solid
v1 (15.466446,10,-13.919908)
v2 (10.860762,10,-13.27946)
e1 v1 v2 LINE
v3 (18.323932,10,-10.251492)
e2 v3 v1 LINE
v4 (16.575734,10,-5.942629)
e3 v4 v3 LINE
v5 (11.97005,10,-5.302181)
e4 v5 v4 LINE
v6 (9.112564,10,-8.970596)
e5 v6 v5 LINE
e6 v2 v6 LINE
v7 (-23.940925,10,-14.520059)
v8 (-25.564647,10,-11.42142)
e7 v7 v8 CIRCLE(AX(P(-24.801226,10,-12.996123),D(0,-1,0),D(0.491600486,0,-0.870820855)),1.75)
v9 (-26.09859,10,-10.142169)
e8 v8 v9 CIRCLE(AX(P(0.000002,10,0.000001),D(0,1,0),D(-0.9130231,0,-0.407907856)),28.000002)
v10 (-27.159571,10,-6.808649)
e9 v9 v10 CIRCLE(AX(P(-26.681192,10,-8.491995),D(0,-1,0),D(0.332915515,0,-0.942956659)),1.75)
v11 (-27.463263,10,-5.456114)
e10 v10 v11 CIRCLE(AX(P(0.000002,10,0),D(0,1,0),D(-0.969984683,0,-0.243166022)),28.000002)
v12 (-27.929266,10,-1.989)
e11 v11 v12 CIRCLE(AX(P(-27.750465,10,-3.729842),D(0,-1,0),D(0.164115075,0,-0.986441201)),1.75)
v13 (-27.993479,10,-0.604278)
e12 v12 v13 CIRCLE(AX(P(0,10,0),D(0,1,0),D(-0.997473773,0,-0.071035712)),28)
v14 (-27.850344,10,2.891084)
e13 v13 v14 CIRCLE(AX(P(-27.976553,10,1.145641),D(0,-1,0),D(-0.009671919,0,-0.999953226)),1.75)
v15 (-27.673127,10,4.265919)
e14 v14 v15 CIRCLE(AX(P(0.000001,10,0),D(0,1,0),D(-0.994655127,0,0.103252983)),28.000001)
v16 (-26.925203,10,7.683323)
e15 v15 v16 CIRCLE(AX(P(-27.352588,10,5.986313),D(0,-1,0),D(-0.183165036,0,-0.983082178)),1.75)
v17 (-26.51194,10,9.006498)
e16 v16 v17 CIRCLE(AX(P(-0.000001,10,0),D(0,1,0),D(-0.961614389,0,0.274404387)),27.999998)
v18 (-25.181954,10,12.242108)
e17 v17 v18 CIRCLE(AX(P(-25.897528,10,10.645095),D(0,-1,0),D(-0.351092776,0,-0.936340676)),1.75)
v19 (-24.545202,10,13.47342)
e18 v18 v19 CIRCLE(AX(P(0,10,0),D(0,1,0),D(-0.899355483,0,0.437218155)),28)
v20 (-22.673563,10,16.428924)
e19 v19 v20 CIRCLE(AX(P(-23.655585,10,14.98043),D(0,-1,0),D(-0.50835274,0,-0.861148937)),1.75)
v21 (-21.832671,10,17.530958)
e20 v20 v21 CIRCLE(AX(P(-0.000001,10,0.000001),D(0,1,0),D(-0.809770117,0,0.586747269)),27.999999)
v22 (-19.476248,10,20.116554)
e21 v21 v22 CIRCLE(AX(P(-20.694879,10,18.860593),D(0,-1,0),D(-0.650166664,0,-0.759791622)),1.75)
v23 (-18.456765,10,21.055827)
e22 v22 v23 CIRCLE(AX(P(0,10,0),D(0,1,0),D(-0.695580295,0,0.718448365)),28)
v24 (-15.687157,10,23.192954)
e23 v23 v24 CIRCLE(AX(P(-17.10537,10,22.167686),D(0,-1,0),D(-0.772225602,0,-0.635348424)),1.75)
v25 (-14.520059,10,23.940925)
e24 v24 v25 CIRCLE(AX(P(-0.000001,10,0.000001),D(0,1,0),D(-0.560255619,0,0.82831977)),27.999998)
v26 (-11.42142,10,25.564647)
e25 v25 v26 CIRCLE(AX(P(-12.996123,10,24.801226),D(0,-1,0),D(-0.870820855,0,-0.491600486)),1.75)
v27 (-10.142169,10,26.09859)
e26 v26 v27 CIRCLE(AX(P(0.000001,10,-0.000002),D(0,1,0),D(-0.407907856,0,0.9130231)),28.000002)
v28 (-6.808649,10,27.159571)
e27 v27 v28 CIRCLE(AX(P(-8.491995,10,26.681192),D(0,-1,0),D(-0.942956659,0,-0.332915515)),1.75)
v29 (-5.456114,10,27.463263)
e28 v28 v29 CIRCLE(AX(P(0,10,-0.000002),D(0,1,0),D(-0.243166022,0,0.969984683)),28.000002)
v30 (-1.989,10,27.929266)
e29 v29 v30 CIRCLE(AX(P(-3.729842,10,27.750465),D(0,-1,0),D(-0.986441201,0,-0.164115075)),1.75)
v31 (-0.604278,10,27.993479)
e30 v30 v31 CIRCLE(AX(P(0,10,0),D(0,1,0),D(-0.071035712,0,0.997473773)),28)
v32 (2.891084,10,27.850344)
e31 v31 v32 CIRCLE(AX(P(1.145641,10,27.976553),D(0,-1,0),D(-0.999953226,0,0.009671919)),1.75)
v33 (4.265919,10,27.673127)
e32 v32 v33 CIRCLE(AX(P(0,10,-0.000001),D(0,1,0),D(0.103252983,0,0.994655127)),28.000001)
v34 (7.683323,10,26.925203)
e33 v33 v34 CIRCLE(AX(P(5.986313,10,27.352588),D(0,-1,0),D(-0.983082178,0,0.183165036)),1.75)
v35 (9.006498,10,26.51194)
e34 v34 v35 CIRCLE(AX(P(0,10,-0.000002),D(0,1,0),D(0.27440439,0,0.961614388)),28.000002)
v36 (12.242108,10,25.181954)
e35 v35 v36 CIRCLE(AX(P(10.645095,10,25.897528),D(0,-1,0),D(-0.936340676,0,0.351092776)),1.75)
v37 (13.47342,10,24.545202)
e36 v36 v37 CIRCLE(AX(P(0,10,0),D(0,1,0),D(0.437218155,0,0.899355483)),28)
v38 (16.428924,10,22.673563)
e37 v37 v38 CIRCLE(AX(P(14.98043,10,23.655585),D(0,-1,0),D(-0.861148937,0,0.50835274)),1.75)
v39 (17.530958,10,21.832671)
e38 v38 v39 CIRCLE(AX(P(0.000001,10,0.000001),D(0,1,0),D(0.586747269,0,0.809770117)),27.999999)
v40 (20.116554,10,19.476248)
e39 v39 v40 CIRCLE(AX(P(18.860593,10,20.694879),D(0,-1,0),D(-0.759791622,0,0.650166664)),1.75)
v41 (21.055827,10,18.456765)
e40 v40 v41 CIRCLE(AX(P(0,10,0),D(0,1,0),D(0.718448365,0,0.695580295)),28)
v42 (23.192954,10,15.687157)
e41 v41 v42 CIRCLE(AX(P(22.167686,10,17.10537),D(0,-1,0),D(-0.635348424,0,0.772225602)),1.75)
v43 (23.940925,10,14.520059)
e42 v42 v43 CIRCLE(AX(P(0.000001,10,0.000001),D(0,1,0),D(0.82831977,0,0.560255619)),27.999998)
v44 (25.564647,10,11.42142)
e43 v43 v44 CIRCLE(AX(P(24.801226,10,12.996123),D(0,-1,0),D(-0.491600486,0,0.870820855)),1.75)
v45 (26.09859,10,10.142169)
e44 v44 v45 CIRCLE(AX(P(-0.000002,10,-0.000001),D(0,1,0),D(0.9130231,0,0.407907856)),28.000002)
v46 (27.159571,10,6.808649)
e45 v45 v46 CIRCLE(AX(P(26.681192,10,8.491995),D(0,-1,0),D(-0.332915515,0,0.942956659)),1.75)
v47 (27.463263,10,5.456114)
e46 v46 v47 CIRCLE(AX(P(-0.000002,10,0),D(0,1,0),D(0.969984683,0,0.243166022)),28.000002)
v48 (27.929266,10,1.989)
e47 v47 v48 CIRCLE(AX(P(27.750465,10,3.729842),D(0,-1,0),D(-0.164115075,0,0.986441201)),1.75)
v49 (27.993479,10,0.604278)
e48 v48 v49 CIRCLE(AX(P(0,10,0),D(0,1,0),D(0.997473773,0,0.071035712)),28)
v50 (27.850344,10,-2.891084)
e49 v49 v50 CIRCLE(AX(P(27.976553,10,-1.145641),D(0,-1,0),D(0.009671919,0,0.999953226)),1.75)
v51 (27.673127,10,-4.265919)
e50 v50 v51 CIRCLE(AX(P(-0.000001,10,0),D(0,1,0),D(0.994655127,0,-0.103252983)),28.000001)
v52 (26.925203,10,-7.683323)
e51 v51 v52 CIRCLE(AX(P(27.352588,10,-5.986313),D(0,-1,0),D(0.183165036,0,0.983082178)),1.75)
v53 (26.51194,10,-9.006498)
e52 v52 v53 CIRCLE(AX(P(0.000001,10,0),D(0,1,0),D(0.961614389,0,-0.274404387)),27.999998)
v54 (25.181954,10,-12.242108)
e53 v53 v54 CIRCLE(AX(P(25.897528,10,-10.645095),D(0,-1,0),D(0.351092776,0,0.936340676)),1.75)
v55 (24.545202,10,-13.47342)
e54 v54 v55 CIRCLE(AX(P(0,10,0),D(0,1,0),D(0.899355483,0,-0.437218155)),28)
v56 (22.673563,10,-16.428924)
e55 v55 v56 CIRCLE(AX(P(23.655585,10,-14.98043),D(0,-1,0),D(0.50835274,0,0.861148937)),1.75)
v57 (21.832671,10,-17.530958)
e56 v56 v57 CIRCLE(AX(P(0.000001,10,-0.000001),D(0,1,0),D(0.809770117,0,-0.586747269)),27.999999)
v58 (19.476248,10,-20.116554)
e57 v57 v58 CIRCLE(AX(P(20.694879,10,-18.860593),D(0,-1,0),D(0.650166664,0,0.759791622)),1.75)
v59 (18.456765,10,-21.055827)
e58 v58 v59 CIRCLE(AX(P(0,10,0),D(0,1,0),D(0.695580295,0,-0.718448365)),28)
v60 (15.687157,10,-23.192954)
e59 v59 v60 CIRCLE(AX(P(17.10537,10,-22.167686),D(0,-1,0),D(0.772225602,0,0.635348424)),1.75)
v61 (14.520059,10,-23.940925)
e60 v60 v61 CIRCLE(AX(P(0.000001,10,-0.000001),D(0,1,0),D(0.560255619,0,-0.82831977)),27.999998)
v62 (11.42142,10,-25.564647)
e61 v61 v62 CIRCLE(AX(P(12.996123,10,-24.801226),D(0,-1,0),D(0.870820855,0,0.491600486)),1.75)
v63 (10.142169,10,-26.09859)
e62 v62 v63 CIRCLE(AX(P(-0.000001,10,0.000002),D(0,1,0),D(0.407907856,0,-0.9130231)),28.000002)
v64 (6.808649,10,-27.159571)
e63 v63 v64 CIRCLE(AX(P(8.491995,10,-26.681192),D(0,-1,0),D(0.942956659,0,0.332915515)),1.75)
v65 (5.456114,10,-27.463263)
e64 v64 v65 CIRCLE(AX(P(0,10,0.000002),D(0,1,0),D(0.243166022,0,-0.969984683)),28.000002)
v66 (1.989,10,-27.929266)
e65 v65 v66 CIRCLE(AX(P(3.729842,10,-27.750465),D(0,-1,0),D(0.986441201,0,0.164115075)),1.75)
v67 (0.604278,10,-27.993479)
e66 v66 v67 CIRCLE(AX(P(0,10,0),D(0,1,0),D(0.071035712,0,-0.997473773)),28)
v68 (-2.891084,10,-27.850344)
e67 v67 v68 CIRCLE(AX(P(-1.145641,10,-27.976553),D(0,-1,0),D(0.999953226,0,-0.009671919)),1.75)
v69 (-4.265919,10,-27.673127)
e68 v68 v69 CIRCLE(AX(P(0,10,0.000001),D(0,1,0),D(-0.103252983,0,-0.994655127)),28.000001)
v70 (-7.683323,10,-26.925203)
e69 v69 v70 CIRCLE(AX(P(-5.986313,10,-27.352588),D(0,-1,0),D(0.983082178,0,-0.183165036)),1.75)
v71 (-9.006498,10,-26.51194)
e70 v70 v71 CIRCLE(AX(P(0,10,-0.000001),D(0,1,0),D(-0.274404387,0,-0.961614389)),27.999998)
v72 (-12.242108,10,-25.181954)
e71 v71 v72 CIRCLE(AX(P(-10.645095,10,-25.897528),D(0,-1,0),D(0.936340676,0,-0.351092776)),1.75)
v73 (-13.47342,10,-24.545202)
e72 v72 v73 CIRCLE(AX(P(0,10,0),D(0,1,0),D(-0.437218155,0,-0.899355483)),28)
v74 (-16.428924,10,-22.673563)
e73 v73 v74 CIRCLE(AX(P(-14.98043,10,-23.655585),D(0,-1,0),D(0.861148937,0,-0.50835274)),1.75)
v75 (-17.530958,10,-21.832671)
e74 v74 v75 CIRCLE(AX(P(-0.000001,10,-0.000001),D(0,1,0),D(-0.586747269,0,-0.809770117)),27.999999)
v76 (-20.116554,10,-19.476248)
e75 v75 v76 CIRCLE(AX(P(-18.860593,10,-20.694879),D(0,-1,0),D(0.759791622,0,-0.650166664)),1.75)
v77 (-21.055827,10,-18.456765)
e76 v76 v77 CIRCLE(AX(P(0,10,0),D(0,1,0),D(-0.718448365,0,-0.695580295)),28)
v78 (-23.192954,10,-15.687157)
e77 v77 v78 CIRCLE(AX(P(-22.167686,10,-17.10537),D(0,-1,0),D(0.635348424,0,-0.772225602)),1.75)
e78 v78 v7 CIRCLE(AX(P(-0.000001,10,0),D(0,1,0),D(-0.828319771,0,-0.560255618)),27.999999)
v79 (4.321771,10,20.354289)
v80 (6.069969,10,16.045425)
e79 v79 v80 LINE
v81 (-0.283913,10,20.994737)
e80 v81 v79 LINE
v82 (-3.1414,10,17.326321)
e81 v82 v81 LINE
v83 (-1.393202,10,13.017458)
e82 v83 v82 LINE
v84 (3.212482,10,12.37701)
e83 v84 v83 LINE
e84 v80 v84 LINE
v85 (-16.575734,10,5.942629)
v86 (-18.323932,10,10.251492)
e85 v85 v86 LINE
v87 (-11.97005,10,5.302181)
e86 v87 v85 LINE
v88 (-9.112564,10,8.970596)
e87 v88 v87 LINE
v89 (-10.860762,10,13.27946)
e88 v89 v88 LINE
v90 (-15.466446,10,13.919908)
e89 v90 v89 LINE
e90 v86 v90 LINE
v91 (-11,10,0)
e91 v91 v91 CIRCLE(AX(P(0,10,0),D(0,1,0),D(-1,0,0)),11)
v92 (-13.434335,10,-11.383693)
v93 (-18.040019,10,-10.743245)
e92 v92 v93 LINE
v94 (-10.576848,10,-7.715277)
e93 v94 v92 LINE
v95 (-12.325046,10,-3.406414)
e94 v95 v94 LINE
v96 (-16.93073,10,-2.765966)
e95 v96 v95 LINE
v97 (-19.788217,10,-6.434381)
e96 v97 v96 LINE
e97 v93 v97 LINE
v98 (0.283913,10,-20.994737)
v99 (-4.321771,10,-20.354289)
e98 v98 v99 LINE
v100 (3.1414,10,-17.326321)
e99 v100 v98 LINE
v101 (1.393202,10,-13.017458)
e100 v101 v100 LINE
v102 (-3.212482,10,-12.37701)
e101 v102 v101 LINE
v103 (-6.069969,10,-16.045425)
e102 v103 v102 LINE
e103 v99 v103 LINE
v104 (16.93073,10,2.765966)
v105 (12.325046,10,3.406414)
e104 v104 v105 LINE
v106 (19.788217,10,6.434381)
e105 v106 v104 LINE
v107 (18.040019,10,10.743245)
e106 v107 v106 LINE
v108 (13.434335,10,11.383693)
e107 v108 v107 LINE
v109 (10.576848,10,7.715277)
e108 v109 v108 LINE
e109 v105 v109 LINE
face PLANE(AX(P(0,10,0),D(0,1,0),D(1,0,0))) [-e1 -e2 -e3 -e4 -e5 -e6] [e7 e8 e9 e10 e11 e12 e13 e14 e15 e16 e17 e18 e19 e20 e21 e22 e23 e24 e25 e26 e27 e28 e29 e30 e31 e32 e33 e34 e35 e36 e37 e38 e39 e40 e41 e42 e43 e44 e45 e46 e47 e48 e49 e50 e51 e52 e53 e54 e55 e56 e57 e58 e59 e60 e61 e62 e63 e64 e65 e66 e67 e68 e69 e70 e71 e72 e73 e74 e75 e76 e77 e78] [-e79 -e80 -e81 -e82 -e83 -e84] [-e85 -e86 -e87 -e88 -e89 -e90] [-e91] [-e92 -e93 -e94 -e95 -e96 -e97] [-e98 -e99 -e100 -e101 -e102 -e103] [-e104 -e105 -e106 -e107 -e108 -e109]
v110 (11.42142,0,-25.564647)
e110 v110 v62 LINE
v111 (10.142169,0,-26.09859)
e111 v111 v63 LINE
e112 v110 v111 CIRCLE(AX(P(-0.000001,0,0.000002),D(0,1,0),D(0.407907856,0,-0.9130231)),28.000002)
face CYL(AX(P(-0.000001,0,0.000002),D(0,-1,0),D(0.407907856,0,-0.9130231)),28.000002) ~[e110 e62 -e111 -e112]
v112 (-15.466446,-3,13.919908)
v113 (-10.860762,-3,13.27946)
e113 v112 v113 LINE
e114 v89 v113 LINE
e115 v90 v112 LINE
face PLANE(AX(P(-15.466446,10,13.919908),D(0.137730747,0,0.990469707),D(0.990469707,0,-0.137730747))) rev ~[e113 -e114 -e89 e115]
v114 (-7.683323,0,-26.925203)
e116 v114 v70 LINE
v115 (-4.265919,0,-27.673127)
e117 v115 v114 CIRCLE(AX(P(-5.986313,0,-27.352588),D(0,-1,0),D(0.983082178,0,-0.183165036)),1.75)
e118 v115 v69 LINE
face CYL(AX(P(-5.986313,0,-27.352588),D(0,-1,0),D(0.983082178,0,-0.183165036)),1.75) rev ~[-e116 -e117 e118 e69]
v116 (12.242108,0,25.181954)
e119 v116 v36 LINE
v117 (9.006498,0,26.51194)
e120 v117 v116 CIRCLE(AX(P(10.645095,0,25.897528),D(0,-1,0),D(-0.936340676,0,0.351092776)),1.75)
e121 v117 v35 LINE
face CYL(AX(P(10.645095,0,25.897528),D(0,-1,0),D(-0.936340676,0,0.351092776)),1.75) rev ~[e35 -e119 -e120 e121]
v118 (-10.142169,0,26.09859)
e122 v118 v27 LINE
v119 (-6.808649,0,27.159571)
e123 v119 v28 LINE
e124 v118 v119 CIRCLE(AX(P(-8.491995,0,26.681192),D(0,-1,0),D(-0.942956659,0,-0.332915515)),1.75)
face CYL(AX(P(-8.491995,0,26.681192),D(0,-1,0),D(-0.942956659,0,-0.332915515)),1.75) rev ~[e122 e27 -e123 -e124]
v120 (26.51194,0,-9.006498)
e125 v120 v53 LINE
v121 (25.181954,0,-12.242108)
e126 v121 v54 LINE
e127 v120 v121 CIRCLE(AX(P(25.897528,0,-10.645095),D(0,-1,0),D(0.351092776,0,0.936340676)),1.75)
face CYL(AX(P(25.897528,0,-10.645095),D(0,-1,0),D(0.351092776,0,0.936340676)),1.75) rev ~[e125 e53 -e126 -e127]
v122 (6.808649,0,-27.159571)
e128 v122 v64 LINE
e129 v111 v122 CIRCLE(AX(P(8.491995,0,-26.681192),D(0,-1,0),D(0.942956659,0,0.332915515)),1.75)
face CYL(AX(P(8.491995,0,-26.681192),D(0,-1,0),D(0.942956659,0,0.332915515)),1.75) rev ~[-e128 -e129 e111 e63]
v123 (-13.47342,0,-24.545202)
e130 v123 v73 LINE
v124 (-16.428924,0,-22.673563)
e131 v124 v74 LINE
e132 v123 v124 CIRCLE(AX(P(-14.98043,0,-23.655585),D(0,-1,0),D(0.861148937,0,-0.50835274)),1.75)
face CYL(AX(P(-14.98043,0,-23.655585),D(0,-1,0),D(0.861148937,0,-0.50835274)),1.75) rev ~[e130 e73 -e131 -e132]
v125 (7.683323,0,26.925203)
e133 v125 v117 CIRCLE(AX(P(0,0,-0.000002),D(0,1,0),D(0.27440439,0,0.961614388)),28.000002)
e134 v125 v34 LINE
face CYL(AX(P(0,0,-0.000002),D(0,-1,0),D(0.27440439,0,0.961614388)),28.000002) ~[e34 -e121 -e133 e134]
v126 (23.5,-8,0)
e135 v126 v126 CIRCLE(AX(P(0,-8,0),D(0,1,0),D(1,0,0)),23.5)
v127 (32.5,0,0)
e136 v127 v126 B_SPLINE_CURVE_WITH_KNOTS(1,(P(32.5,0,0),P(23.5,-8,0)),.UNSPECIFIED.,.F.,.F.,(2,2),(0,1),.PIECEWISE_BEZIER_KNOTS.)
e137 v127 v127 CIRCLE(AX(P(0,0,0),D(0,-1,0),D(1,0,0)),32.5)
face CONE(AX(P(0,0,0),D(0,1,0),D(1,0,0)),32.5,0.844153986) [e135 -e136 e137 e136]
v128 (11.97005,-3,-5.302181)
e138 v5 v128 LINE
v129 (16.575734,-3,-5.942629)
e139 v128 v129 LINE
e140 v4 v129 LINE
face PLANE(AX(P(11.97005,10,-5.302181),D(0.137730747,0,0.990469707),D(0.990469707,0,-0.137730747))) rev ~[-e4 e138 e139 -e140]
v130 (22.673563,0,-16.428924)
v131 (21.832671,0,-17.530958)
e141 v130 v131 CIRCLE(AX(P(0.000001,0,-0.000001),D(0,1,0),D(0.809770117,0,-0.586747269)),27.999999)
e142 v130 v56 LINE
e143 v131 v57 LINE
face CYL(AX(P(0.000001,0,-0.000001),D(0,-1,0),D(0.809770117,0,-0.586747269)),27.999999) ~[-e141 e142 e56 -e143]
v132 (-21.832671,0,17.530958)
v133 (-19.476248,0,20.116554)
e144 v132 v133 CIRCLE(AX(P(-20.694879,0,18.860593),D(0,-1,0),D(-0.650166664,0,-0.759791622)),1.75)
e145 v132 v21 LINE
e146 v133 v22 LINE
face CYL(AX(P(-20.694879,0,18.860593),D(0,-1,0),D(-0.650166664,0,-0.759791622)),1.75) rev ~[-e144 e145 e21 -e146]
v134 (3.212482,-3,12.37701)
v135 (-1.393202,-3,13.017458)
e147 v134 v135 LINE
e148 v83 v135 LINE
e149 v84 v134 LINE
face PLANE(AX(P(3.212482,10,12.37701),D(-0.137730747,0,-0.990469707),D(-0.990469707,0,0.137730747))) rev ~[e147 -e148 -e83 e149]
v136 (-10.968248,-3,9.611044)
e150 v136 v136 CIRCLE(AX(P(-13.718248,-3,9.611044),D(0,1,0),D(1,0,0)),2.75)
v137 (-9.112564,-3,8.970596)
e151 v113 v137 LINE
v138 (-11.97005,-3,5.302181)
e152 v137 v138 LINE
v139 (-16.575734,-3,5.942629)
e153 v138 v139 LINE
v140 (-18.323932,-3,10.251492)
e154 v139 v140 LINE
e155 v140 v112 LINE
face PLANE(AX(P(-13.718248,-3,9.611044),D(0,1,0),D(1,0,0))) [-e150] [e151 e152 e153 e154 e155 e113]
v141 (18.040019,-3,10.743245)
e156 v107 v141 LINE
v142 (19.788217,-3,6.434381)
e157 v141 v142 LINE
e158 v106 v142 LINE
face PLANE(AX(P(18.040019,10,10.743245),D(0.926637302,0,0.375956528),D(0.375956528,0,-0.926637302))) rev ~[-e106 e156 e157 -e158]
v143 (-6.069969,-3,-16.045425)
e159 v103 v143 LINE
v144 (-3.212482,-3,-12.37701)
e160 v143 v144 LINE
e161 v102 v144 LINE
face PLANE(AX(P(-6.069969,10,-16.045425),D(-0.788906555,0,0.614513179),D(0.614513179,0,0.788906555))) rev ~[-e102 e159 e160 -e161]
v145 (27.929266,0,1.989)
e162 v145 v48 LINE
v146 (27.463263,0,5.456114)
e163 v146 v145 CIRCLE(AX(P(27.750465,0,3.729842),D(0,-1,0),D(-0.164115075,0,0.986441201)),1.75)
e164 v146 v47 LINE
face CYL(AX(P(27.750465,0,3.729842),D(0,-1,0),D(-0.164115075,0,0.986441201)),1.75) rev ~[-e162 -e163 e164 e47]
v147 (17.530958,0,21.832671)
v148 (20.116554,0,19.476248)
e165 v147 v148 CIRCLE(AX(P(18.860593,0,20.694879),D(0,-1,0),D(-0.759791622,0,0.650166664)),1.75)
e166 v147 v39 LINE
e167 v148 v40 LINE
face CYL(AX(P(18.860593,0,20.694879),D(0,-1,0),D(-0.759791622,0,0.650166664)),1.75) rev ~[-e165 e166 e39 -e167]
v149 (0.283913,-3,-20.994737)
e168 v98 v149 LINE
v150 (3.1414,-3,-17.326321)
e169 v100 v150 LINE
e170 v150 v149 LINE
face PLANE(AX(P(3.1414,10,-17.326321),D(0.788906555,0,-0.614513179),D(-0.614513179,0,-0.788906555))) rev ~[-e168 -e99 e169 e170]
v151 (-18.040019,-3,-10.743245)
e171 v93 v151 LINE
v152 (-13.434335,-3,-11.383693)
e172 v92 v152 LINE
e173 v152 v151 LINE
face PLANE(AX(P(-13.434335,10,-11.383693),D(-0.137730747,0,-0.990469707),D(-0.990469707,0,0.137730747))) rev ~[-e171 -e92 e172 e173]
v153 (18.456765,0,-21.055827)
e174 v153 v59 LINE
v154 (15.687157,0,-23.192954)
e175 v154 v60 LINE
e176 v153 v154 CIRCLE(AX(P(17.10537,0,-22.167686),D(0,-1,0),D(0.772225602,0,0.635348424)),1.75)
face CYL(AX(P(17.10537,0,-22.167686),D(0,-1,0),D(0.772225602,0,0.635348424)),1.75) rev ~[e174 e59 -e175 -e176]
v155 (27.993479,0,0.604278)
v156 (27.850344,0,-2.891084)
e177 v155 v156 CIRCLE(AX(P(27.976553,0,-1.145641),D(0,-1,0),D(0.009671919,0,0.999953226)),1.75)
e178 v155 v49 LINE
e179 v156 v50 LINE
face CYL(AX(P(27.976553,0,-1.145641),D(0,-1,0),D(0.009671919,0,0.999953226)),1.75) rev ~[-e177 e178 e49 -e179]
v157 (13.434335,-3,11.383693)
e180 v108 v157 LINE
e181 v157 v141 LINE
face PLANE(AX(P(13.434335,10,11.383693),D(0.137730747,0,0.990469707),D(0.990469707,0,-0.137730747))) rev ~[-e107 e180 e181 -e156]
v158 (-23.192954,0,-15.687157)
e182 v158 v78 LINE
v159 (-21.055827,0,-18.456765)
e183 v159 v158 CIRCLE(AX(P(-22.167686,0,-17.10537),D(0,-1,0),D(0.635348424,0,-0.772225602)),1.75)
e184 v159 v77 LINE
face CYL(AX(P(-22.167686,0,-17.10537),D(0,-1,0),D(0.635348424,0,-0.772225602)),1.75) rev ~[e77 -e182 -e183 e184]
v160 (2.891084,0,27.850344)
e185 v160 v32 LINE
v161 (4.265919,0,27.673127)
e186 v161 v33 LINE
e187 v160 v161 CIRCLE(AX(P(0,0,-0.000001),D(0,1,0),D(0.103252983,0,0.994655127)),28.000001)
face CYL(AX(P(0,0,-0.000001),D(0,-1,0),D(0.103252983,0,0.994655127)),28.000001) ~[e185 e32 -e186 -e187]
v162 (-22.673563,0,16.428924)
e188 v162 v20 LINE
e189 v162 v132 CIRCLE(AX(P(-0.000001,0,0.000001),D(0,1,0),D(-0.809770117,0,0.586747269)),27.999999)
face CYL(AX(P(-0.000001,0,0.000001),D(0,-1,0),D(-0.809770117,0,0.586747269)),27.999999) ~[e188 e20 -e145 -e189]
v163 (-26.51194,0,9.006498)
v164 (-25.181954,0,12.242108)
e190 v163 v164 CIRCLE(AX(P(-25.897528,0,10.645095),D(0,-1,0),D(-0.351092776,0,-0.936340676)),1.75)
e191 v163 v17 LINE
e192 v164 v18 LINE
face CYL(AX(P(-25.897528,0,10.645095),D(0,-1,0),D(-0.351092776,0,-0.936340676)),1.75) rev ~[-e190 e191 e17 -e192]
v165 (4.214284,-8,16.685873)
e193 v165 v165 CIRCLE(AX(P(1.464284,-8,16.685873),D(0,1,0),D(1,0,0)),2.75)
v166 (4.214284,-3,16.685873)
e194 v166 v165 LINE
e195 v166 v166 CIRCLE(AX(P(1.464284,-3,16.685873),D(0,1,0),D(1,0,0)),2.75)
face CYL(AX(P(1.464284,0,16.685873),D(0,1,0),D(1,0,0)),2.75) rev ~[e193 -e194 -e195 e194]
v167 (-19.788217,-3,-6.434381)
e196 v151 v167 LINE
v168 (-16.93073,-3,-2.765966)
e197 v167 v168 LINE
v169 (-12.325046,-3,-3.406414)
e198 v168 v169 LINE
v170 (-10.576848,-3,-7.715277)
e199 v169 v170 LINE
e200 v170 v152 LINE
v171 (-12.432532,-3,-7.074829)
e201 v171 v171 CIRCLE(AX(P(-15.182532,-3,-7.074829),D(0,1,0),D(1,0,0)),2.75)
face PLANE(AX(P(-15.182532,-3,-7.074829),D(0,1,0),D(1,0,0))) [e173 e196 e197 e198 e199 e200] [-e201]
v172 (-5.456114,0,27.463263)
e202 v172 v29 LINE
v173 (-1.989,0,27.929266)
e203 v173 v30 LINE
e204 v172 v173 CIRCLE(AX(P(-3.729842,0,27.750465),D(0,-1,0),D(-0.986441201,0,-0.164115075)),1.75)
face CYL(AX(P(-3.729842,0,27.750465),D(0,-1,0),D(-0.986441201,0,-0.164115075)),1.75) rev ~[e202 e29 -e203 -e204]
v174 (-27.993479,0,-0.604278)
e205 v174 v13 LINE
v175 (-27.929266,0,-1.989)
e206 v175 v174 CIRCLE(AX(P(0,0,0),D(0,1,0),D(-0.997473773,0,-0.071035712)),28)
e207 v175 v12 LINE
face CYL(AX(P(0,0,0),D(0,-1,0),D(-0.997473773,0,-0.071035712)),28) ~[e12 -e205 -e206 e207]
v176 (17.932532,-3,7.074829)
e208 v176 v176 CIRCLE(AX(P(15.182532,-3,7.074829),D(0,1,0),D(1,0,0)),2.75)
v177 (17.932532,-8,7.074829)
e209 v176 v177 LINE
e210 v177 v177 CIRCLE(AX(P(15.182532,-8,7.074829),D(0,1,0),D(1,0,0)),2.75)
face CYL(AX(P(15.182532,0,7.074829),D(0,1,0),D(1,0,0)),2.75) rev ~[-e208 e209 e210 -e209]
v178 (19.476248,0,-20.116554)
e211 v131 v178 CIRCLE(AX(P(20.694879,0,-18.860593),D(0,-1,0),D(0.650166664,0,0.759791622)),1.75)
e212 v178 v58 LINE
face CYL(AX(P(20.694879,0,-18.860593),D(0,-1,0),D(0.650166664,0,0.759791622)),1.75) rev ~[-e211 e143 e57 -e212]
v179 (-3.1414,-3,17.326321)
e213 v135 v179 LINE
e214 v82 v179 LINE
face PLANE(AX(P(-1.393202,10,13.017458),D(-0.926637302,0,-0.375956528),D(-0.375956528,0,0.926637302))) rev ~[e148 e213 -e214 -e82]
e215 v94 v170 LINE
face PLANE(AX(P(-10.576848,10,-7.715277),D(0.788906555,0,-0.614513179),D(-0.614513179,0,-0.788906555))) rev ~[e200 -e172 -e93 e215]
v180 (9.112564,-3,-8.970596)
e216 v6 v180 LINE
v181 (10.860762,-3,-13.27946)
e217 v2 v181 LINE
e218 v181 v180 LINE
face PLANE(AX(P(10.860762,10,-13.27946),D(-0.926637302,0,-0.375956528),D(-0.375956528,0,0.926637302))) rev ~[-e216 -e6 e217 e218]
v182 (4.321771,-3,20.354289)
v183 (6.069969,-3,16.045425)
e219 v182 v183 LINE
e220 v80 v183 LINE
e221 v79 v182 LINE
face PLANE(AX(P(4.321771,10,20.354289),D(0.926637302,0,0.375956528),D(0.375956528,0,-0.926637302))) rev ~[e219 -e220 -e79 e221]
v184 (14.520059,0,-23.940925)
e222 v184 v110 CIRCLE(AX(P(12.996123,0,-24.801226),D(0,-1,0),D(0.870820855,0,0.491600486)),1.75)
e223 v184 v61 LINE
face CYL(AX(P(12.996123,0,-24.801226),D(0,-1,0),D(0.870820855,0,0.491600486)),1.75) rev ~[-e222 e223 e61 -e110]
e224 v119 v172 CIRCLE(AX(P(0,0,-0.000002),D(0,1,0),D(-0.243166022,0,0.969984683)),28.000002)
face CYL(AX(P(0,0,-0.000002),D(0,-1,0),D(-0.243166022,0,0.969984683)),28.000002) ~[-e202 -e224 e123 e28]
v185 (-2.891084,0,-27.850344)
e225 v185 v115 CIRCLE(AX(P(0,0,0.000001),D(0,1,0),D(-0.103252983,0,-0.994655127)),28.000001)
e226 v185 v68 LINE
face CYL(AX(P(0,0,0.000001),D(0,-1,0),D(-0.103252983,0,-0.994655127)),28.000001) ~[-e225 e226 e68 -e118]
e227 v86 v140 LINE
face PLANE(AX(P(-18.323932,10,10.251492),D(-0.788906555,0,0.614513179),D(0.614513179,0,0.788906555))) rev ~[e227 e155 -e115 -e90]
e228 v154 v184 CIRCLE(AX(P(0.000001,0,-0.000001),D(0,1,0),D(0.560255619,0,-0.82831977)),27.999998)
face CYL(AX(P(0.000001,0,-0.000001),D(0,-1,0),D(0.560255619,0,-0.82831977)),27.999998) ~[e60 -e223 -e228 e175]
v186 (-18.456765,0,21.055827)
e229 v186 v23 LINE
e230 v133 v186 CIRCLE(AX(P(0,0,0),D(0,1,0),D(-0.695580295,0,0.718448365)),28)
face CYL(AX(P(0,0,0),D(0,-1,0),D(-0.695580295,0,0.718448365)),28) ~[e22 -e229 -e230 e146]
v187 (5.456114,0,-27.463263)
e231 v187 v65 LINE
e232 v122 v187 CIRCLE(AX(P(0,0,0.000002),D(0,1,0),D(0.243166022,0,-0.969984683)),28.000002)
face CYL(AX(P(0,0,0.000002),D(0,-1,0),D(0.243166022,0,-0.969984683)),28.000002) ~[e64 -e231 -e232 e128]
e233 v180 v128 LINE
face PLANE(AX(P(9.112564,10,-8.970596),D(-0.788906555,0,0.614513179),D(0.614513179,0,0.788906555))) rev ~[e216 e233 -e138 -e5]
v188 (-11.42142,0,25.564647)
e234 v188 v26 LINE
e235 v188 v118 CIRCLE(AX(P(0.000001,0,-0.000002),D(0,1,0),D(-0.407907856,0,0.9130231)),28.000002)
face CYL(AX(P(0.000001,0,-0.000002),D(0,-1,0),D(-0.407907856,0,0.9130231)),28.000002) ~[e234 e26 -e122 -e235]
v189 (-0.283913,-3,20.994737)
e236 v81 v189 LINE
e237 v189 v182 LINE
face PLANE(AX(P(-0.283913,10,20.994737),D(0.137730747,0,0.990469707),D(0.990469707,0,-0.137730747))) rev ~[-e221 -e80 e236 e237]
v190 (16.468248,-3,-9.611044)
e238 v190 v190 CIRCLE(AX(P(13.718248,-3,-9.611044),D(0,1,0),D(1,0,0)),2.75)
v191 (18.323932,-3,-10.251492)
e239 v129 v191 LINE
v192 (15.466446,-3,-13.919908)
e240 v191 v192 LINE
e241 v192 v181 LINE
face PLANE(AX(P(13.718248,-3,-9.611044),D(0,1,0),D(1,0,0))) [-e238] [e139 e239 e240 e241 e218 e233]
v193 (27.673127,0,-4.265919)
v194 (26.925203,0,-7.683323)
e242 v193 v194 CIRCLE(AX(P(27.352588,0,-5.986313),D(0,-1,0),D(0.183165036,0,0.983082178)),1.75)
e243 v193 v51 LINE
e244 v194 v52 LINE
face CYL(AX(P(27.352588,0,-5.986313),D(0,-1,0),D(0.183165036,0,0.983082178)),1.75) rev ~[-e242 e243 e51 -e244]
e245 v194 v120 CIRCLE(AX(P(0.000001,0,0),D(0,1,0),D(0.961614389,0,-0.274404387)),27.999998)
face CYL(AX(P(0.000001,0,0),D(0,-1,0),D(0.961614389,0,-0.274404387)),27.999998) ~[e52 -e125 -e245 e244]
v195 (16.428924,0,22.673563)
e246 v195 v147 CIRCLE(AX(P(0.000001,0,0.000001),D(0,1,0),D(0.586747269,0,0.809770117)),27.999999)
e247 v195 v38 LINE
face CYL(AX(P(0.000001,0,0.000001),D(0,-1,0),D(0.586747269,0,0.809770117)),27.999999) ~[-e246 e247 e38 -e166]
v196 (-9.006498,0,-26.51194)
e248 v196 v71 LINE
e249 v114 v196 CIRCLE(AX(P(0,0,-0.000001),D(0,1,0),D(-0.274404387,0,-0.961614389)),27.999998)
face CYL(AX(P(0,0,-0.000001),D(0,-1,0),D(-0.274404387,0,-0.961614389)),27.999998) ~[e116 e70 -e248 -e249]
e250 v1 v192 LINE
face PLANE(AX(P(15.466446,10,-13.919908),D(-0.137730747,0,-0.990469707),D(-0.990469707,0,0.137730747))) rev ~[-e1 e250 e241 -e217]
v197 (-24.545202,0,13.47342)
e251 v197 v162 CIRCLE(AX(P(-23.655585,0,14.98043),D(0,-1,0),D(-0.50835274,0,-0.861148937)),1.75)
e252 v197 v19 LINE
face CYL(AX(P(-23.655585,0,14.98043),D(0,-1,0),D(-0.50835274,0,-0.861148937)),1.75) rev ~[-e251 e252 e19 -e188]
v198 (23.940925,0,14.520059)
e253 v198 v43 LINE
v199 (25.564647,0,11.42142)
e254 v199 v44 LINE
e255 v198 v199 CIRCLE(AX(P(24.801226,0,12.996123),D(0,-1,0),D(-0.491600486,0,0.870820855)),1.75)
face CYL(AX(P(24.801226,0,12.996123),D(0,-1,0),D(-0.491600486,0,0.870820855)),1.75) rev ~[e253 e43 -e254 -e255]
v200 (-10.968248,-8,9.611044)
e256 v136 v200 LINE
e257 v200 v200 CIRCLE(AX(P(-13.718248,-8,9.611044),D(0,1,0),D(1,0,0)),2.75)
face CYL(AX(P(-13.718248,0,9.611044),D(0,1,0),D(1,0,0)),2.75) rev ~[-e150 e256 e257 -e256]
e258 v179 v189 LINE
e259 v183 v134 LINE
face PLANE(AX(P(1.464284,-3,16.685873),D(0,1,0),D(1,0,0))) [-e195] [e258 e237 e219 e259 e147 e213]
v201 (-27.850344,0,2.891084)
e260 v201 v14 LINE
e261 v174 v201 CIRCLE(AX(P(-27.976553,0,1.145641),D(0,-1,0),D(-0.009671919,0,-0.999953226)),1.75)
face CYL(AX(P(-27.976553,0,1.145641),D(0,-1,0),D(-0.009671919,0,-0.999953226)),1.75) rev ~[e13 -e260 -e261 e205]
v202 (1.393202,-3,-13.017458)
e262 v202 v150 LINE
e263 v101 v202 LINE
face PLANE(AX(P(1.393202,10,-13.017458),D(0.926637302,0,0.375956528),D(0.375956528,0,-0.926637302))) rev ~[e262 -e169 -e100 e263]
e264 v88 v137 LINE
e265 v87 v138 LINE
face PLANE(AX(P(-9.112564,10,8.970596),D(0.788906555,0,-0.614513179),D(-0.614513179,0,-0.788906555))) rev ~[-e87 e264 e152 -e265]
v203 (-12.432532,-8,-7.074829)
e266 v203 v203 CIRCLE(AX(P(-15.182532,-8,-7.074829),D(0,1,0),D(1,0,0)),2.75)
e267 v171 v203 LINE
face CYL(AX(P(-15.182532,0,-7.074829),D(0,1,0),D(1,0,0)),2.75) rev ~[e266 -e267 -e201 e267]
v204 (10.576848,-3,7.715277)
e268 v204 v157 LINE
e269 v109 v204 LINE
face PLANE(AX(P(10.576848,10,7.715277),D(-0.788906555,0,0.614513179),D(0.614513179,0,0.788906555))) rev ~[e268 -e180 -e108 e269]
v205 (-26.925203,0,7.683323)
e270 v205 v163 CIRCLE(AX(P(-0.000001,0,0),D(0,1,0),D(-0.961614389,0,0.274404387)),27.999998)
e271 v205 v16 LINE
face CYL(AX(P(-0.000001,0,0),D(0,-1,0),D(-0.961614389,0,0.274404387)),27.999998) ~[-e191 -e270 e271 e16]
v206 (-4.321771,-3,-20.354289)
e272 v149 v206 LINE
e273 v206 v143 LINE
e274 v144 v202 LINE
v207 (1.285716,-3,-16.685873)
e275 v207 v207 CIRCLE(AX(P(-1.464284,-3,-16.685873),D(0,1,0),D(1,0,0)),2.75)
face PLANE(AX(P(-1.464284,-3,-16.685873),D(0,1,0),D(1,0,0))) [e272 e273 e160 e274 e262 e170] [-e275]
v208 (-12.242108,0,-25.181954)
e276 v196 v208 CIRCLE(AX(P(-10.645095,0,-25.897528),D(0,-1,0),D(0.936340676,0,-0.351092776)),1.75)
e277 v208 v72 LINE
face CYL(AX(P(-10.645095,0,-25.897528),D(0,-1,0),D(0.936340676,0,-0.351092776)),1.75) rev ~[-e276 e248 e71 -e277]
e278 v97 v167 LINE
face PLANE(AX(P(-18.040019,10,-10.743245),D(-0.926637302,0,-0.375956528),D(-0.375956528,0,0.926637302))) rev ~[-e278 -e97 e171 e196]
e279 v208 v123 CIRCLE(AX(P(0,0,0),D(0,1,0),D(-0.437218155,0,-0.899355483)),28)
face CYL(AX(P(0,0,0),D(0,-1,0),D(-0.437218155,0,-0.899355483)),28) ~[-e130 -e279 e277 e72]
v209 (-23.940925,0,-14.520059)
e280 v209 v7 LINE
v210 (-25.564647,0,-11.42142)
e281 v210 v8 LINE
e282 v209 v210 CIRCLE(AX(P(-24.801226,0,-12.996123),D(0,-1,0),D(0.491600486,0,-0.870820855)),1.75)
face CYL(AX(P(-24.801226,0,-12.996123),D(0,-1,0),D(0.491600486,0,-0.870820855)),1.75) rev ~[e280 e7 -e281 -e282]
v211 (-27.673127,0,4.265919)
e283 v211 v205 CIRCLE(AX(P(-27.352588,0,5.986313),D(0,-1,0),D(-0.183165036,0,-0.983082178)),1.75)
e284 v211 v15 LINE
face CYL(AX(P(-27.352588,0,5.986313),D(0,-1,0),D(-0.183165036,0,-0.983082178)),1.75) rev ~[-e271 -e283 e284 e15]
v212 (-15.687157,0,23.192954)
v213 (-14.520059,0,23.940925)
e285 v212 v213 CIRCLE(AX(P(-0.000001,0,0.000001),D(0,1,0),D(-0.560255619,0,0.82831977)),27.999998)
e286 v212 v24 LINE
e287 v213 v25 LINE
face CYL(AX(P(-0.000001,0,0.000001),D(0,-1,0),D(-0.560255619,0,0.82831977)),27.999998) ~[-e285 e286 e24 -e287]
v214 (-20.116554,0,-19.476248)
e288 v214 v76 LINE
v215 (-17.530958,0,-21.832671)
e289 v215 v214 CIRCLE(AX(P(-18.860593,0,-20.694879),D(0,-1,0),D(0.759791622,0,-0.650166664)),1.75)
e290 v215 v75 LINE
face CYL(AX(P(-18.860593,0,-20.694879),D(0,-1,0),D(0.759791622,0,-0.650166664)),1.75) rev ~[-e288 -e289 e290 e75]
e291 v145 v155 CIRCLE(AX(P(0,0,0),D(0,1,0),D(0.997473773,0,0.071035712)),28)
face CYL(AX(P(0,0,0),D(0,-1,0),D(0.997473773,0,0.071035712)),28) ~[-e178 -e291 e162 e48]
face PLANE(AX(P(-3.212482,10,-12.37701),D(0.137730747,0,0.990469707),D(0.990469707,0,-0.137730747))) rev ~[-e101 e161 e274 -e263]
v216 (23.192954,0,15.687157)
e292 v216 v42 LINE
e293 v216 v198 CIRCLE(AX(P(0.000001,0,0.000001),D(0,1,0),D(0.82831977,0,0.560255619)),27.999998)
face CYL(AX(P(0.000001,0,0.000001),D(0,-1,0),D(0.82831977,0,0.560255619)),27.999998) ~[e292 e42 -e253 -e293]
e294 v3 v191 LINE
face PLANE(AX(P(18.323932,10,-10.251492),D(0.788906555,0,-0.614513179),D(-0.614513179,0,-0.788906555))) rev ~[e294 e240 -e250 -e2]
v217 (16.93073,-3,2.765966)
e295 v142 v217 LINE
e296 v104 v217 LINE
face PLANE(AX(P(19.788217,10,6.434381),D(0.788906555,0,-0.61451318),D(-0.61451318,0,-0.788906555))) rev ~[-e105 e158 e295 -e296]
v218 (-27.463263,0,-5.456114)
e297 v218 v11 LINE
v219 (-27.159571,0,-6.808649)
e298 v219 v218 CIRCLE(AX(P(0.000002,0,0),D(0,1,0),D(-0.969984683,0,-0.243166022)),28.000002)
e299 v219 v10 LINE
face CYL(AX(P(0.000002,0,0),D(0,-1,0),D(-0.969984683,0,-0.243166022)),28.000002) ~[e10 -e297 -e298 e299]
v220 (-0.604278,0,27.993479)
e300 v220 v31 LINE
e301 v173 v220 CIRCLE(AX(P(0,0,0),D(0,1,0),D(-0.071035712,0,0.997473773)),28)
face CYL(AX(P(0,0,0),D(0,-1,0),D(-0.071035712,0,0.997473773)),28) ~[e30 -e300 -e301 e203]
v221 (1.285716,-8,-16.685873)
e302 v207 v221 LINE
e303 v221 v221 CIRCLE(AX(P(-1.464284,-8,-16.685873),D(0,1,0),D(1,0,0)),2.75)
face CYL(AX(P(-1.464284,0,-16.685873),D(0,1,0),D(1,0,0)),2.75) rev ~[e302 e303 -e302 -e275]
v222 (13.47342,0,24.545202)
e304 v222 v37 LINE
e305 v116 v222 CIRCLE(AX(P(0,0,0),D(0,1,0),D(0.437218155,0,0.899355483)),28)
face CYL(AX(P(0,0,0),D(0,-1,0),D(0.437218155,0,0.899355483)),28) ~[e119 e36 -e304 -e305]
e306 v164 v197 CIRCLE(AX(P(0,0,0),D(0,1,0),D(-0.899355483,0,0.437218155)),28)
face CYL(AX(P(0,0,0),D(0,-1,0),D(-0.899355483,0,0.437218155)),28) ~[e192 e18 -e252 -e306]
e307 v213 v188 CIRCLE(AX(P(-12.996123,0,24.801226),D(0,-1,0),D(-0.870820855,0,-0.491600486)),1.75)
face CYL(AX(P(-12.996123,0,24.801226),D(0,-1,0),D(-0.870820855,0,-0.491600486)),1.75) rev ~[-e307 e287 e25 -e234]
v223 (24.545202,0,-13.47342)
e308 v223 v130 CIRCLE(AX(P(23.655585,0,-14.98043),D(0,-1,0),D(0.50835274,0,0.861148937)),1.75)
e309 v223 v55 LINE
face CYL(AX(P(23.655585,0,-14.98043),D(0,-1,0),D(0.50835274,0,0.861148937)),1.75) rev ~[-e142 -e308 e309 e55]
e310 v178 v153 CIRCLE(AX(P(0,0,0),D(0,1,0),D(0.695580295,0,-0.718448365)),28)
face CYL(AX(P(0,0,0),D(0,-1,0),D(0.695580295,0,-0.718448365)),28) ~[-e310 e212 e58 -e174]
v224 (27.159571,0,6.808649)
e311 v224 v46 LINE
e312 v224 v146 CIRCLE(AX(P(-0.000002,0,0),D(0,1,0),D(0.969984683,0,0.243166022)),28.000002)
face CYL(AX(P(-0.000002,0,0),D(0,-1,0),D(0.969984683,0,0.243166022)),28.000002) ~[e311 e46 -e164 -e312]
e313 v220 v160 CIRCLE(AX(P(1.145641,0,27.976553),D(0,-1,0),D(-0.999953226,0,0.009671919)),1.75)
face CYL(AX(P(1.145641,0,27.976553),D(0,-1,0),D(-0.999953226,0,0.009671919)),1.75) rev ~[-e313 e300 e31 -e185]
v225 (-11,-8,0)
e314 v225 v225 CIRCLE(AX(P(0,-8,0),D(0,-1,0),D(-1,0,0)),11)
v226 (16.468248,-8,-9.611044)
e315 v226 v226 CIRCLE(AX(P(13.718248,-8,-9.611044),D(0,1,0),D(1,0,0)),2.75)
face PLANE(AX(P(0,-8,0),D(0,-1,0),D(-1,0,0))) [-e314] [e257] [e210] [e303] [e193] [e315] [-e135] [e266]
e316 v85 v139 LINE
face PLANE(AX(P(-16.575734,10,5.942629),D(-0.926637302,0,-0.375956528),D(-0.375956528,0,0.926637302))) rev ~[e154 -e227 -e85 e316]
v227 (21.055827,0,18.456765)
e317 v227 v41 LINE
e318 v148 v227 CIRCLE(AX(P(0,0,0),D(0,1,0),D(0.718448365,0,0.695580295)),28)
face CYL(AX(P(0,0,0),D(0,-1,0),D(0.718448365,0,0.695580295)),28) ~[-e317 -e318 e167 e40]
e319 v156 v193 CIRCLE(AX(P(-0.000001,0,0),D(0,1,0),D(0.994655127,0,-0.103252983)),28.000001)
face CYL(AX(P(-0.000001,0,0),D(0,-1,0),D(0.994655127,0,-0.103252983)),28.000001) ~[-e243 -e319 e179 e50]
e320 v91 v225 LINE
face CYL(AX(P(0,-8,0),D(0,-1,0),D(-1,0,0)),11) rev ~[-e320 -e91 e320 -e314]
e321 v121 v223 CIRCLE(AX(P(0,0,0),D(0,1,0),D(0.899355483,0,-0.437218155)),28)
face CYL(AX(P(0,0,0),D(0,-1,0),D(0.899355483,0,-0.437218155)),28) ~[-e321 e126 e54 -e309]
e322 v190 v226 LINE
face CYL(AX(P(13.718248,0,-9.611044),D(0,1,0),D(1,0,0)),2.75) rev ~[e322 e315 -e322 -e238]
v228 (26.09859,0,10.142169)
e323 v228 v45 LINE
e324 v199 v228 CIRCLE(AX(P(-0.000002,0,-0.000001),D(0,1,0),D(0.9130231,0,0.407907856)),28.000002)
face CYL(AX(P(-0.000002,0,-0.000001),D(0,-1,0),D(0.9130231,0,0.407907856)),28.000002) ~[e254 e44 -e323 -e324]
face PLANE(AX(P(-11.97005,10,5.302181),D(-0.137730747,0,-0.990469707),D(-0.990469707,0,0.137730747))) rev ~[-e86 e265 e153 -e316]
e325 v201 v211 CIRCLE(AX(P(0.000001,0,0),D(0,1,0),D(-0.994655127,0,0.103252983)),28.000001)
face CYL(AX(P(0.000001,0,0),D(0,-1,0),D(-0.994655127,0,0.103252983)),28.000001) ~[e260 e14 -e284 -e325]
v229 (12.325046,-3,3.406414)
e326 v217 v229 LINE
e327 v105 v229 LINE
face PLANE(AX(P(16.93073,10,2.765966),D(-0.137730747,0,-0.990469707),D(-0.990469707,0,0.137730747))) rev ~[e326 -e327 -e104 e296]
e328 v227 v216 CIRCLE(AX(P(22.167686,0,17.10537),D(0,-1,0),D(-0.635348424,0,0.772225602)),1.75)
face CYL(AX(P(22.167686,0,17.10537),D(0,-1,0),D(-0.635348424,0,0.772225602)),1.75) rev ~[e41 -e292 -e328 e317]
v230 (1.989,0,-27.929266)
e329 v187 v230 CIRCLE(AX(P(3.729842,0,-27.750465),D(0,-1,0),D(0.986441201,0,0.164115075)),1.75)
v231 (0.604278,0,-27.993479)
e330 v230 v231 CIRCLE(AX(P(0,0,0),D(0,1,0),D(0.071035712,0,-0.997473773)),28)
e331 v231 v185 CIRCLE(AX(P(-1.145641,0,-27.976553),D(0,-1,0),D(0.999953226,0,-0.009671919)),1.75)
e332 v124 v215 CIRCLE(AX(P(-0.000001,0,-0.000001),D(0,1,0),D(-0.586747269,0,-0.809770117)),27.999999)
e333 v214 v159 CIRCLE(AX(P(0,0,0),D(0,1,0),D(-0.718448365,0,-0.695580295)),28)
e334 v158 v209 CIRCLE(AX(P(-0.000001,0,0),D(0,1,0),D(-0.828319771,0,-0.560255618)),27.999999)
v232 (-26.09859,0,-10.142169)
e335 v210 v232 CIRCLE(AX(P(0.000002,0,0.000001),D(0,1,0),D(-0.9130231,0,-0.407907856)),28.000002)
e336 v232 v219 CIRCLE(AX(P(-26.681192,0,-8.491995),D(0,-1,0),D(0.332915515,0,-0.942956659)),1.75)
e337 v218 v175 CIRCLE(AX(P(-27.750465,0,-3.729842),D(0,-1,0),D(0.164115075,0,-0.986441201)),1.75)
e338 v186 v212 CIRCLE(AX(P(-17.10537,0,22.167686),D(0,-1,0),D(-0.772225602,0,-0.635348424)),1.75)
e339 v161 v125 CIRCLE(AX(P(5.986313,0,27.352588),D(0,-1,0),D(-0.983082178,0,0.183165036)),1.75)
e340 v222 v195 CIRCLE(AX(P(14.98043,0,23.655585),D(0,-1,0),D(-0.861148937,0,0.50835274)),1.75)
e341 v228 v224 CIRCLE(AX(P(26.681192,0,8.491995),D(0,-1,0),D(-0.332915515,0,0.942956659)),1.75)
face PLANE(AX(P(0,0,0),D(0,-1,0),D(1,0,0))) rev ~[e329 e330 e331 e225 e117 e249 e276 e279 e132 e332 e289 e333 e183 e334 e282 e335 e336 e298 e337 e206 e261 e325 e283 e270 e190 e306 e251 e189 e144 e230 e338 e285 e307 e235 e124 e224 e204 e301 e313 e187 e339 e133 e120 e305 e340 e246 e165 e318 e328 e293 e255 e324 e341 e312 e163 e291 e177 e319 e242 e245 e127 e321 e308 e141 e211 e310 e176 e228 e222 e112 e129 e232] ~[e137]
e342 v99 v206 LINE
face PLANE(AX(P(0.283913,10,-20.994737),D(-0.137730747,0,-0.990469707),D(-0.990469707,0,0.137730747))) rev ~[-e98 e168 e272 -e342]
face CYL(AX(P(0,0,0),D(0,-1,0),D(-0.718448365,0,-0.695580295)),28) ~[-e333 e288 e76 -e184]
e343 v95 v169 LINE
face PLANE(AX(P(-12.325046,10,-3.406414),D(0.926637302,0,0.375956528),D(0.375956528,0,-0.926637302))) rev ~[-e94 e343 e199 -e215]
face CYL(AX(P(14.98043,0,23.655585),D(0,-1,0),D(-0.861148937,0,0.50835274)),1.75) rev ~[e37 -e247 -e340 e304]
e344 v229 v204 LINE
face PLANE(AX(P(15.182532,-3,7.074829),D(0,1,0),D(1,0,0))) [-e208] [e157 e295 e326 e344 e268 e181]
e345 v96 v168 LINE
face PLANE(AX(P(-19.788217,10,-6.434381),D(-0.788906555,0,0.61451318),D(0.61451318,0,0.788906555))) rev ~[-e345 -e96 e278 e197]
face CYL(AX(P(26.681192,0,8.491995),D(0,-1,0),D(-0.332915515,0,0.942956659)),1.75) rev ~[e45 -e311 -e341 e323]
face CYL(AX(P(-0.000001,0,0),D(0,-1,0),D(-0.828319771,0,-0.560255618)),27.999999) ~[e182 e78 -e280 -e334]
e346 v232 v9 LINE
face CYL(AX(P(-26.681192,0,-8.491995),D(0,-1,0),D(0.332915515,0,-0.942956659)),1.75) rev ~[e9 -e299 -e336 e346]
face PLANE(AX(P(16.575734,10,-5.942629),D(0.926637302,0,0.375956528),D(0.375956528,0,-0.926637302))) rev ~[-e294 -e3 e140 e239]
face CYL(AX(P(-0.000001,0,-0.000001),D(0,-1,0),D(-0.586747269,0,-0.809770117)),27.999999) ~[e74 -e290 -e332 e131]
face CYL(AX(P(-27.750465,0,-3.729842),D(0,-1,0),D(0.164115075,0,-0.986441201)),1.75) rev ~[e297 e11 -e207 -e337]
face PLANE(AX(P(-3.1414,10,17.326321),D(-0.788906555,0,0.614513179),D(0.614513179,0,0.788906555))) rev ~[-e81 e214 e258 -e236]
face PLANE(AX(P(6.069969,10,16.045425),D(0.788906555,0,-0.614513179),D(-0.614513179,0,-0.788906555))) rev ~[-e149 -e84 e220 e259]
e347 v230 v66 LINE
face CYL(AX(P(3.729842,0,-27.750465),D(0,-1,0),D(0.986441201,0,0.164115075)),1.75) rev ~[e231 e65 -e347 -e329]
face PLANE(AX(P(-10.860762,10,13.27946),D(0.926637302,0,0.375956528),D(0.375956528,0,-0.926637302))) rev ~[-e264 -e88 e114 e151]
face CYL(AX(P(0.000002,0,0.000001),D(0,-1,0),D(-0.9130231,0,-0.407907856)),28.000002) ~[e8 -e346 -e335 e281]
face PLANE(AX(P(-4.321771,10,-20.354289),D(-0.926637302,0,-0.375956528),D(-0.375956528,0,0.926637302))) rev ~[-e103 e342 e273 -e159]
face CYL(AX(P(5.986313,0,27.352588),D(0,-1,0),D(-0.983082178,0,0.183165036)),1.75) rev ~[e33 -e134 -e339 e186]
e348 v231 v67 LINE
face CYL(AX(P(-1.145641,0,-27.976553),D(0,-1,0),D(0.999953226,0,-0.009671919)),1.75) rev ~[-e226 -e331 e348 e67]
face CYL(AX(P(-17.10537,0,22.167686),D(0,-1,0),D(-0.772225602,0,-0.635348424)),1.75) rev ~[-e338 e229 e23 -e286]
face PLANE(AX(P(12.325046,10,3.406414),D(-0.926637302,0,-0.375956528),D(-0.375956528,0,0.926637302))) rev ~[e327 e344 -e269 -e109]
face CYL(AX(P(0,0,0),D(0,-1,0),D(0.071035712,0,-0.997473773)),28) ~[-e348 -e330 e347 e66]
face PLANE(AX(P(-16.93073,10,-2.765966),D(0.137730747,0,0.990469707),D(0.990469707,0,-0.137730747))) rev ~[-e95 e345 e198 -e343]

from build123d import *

# Parameters (mm, degrees)
SKETCH1_R               = 11
BOSS_EXTRUDE1_DEPTH     = 10
SKETCH2_R               = 32.5
SKETCH3_R               = 23.5
SKETCH3_4_R             = 11
CUT_EXTRUDE1_DEPTH      = 1.0000001
CUT_EXTRUDE1_DEPTH_BACK = 19
CUT_EXTRUDE2_DEPTH      = 13
SKETCH1_7_R             = 2.75
CUT_EXTRUDE3_DEPTH      = 9.0000001


with BuildPart() as part:
    # Sketch1 → Boss-Extrude1 (new body)
    with BuildSketch(Plane(origin=(0, 0, 0), x_dir=(1, 0, 0), z_dir=(0, 1, 0))):
        with BuildLine():
            ThreePointArc((27.993478679, -0.604277614), (26.22801827, 1.074037998), (27.850343554, 2.891083518))
            ThreePointArc((27.850343554, 2.891083518), (27.77024444, 3.579598264), (27.673126544, 4.26591928))
            ThreePointArc((27.673126544, 4.26591928), (25.643050997, 5.612168524), (26.925202872, 7.683322869))
            ThreePointArc((26.925202872, 7.683322869), (26.726761313, 8.347468463), (26.511940461, 9.006498375))
            ThreePointArc((26.511940461, 9.006498375), (24.278932596, 9.979776149), (25.181953525, 12.242108342))
            ThreePointArc((25.181953525, 12.242108342), (24.871199067, 12.861705057), (24.545202484, 13.473419575))
            ThreePointArc((24.545202484, 13.473419575), (22.177111114, 14.044153326), (22.673563263, 16.428923548))
            ThreePointArc((22.673563263, 16.428923548), (22.259938023, 16.985145252), (21.832670949, 17.530957739))
            ThreePointArc((21.832670949, 17.530957739), (19.401449332, 17.681806011), (19.476248255, 20.116554226))
            ThreePointArc((19.476248255, 20.116554226), (18.972320026, 20.592500403), (18.456764755, 21.055826623))
            ThreePointArc((18.456764755, 21.055826623), (16.036284331, 20.782205967), (15.687157298, 23.192953583))
            ThreePointArc((15.687157298, 23.192953583), (15.108237686, 23.574162849), (14.520059104, 23.940924869))
            ThreePointArc((14.520059104, 23.940924869), (12.183864944, 23.251149112), (11.421420006, 25.564646781))
            ThreePointArc((11.421420006, 25.564646781), (10.785099188, 25.839536286), (10.142168805, 26.098590229))
            ThreePointArc((10.142168805, 26.098590229), (7.961244987, 25.013617856), (6.808648646, 27.159571124))
            ThreePointArc((6.808648646, 27.159571124), (6.13426091, 27.319788489), (5.456113839, 27.463263131))
            ThreePointArc((5.456113839, 27.463263131), (3.496726629, 26.01606048), (1.988999942, 27.929265641))
            ThreePointArc((1.988999942, 27.929265641), (1.297036218, 27.969942743), (0.604277614, 27.993478679))
            ThreePointArc((0.604277614, 27.993478679), (-1.074037998, 26.22801827), (-2.891083518, 27.850343554))
            ThreePointArc((-2.891083518, 27.850343554), (-3.579598264, 27.77024444), (-4.26591928, 27.673126544))
            ThreePointArc((-4.26591928, 27.673126544), (-5.612168524, 25.643050997), (-7.683322869, 26.925202872))
            ThreePointArc((-7.683322869, 26.925202872), (-8.347468463, 26.726761313), (-9.006498375, 26.511940461))
            ThreePointArc((-9.006498375, 26.511940461), (-9.979776149, 24.278932596), (-12.242108342, 25.181953525))
            ThreePointArc((-12.242108342, 25.181953525), (-12.861705057, 24.871199067), (-13.473419575, 24.545202484))
            ThreePointArc((-13.473419575, 24.545202484), (-14.044153326, 22.177111114), (-16.428923548, 22.673563263))
            ThreePointArc((-16.428923548, 22.673563263), (-16.985145252, 22.259938023), (-17.530957739, 21.832670949))
            ThreePointArc((-17.530957739, 21.832670949), (-17.681806011, 19.401449332), (-20.116554226, 19.476248255))
            ThreePointArc((-20.116554226, 19.476248255), (-20.592500403, 18.972320026), (-21.055826623, 18.456764755))
            ThreePointArc((-21.055826623, 18.456764755), (-20.782205967, 16.036284331), (-23.192953583, 15.687157299))
            ThreePointArc((-23.192953583, 15.687157299), (-23.574162849, 15.108237686), (-23.940924869, 14.520059104))
            ThreePointArc((-23.940924869, 14.520059104), (-23.251149112, 12.183864944), (-25.564646781, 11.421420006))
            ThreePointArc((-25.564646781, 11.421420006), (-25.839536286, 10.785099188), (-26.098590229, 10.142168805))
            ThreePointArc((-26.098590229, 10.142168805), (-25.013617856, 7.961244987), (-27.159571124, 6.808648646))
            ThreePointArc((-27.159571124, 6.808648646), (-27.319788489, 6.13426091), (-27.463263131, 5.456113839))
            ThreePointArc((-27.463263131, 5.456113839), (-26.01606048, 3.496726629), (-27.929265641, 1.988999942))
            ThreePointArc((-27.929265641, 1.988999942), (-27.969942743, 1.297036218), (-27.993478679, 0.604277614))
            ThreePointArc((-27.993478679, 0.604277614), (-26.22801827, -1.074037998), (-27.850343554, -2.891083518))
            ThreePointArc((-27.850343554, -2.891083518), (-27.77024444, -3.579598264), (-27.673126544, -4.26591928))
            ThreePointArc((-27.673126544, -4.26591928), (-25.643050997, -5.612168524), (-26.925202872, -7.683322869))
            ThreePointArc((-26.925202872, -7.683322869), (-26.726761313, -8.347468463), (-26.511940461, -9.006498375))
            ThreePointArc((-26.511940461, -9.006498375), (-24.278932596, -9.979776149), (-25.181953525, -12.242108342))
            ThreePointArc((-25.181953525, -12.242108342), (-24.871199067, -12.861705057), (-24.545202484, -13.473419575))
            ThreePointArc((-24.545202484, -13.473419575), (-22.177111114, -14.044153326), (-22.673563263, -16.428923548))
            ThreePointArc((-22.673563263, -16.428923548), (-22.259938023, -16.985145252), (-21.832670949, -17.530957739))
            ThreePointArc((-21.832670949, -17.530957739), (-19.401449332, -17.681806011), (-19.476248255, -20.116554226))
            ThreePointArc((-19.476248255, -20.116554226), (-18.972320026, -20.592500403), (-18.456764755, -21.055826623))
            ThreePointArc((-18.456764755, -21.055826623), (-16.036284331, -20.782205967), (-15.687157298, -23.192953583))
            ThreePointArc((-15.687157298, -23.192953583), (-15.108237686, -23.574162849), (-14.520059104, -23.940924869))
            ThreePointArc((-14.520059104, -23.940924869), (-12.183864944, -23.251149112), (-11.421420006, -25.564646781))
            ThreePointArc((-11.421420006, -25.564646781), (-10.785099188, -25.839536286), (-10.142168805, -26.098590229))
            ThreePointArc((-10.142168805, -26.098590229), (-7.961244987, -25.013617856), (-6.808648646, -27.159571124))
            ThreePointArc((-6.808648646, -27.159571124), (-6.13426091, -27.319788489), (-5.456113839, -27.463263131))
            ThreePointArc((-5.456113839, -27.463263131), (-3.496726629, -26.01606048), (-1.988999942, -27.929265641))
            ThreePointArc((-1.988999942, -27.929265641), (-1.297036218, -27.969942743), (-0.604277614, -27.993478679))
            ThreePointArc((-0.604277614, -27.993478679), (1.074037998, -26.22801827), (2.891083518, -27.850343554))
            ThreePointArc((2.891083518, -27.850343554), (3.579598264, -27.77024444), (4.26591928, -27.673126544))
            ThreePointArc((4.26591928, -27.673126544), (5.612168524, -25.643050997), (7.683322869, -26.925202872))
            ThreePointArc((7.683322869, -26.925202872), (8.347468463, -26.726761312), (9.006498375, -26.511940461))
            ThreePointArc((9.006498375, -26.511940461), (9.979776149, -24.278932596), (12.242108342, -25.181953525))
            ThreePointArc((12.242108342, -25.181953525), (12.861705057, -24.871199067), (13.473419575, -24.545202484))
            ThreePointArc((13.473419575, -24.545202484), (14.044153326, -22.177111114), (16.428923548, -22.673563263))
            ThreePointArc((16.428923548, -22.673563263), (16.985145252, -22.259938023), (17.530957739, -21.832670949))
            ThreePointArc((17.530957739, -21.832670949), (17.681806011, -19.401449332), (20.116554226, -19.476248255))
            ThreePointArc((20.116554226, -19.476248255), (20.592500403, -18.972320026), (21.055826623, -18.456764755))
            ThreePointArc((21.055826623, -18.456764755), (20.782205967, -16.036284331), (23.192953583, -15.687157298))
            ThreePointArc((23.192953583, -15.687157298), (23.574162849, -15.108237686), (23.940924869, -14.520059104))
            ThreePointArc((23.940924869, -14.520059104), (23.251149112, -12.183864944), (25.564646781, -11.421420006))
            ThreePointArc((25.564646781, -11.421420006), (25.839536286, -10.785099188), (26.098590229, -10.142168805))
            ThreePointArc((26.098590229, -10.142168805), (25.013617856, -7.961244987), (27.159571124, -6.808648646))
            ThreePointArc((27.159571124, -6.808648646), (27.319788489, -6.13426091), (27.463263131, -5.456113839))
            ThreePointArc((27.463263131, -5.456113839), (26.01606048, -3.496726629), (27.929265641, -1.988999942))
            ThreePointArc((27.929265641, -1.988999942), (27.969942743, -1.297036218), (27.993478679, -0.604277614))
        make_face()
        Circle(SKETCH1_R, mode=Mode.SUBTRACT)
    extrude(amount=BOSS_EXTRUDE1_DEPTH)

    # Sketch2 → Loft2 section 0
    with BuildSketch(Plane.XZ):
        Circle(SKETCH2_R)
    # Sketch3 → Loft2 section 1
    with BuildSketch(Plane(origin=(0, -8, 0), x_dir=(-1, 0, 0), z_dir=(0, -1, 0))):
        Circle(SKETCH3_R)
    loft()

    # Sketch3<4> → Cut-Extrude1 (cut, two sides)
    with BuildSketch(Plane(origin=(0, -8, 0), x_dir=(-1, 0, 0), z_dir=(0, -1, 0))) as cut_extrude1_sk:
        Circle(SKETCH3_4_R)
    extrude(amount=CUT_EXTRUDE1_DEPTH, mode=Mode.SUBTRACT)
    extrude(cut_extrude1_sk.sketch, amount=-CUT_EXTRUDE1_DEPTH_BACK, mode=Mode.SUBTRACT)

    # Sketch4 → Cut-Extrude2 (cut)
    with BuildSketch(Plane(origin=(0, 10, 0), x_dir=(1, 0, 0), z_dir=(0, 1, 0))):
        Polygon((-10.576848295, 7.715277219), (-13.434334579, 11.383692699), (-18.040018719, 10.743244726), (-19.788216575, 6.434381273), (-16.93073029, 2.765965793), (-12.325046151, 3.406413766), align=None)
        Polygon((-18.323932212, -10.251492132), (-15.466445928, -13.919907613), (-10.860761788, -13.27945964), (-9.112563932, -8.970596187), (-11.970050217, -5.302180706), (-16.575734356, -5.942628679), align=None)
        Polygon((1.393201921, 13.017457925), (3.141399777, 17.326321378), (0.283913493, 20.994736859), (-4.321770647, 20.354288886), (-6.069968503, 16.045425433), (-3.212482218, 12.377009952), align=None)
        Polygon((11.970050217, 5.302180706), (16.575734356, 5.942628679), (18.323932212, 10.251492132), (15.466445928, 13.919907613), (10.860761788, 13.27945964), (9.112563932, 8.970596187), align=None)
        Polygon((10.576848295, -7.715277219), (13.434334579, -11.383692699), (18.040018719, -10.743244726), (19.788216575, -6.434381273), (16.93073029, -2.765965793), (12.325046151, -3.406413766), align=None)
        Polygon((-1.393201921, -13.017457925), (-3.141399777, -17.326321378), (-0.283913493, -20.994736859), (4.321770647, -20.354288886), (6.069968503, -16.045425433), (3.212482218, -12.377009952), align=None)
    extrude(amount=-CUT_EXTRUDE2_DEPTH, mode=Mode.SUBTRACT)

    # Sketch1<7> → Cut-Extrude3 (cut, through all)
    with BuildSketch(Plane(origin=(0, 0, 0), x_dir=(1, 0, 0), z_dir=(0, 1, 0))):
        with Locations((15.182532435, -7.074829246)):
            Circle(SKETCH1_7_R)
        with Locations((1.464284363, -16.685873406)):
            Circle(SKETCH1_7_R)
        with Locations((-13.718248072, -9.611044159)):
            Circle(SKETCH1_7_R)
        with Locations((-15.182532435, 7.074829246)):
            Circle(SKETCH1_7_R)
        with Locations((-1.464284363, 16.685873406)):
            Circle(SKETCH1_7_R)
        with Locations((13.718248072, 9.611044159)):
            Circle(SKETCH1_7_R)
    extrude(amount=-CUT_EXTRUDE3_DEPTH, mode=Mode.SUBTRACT)


solid = part.part
